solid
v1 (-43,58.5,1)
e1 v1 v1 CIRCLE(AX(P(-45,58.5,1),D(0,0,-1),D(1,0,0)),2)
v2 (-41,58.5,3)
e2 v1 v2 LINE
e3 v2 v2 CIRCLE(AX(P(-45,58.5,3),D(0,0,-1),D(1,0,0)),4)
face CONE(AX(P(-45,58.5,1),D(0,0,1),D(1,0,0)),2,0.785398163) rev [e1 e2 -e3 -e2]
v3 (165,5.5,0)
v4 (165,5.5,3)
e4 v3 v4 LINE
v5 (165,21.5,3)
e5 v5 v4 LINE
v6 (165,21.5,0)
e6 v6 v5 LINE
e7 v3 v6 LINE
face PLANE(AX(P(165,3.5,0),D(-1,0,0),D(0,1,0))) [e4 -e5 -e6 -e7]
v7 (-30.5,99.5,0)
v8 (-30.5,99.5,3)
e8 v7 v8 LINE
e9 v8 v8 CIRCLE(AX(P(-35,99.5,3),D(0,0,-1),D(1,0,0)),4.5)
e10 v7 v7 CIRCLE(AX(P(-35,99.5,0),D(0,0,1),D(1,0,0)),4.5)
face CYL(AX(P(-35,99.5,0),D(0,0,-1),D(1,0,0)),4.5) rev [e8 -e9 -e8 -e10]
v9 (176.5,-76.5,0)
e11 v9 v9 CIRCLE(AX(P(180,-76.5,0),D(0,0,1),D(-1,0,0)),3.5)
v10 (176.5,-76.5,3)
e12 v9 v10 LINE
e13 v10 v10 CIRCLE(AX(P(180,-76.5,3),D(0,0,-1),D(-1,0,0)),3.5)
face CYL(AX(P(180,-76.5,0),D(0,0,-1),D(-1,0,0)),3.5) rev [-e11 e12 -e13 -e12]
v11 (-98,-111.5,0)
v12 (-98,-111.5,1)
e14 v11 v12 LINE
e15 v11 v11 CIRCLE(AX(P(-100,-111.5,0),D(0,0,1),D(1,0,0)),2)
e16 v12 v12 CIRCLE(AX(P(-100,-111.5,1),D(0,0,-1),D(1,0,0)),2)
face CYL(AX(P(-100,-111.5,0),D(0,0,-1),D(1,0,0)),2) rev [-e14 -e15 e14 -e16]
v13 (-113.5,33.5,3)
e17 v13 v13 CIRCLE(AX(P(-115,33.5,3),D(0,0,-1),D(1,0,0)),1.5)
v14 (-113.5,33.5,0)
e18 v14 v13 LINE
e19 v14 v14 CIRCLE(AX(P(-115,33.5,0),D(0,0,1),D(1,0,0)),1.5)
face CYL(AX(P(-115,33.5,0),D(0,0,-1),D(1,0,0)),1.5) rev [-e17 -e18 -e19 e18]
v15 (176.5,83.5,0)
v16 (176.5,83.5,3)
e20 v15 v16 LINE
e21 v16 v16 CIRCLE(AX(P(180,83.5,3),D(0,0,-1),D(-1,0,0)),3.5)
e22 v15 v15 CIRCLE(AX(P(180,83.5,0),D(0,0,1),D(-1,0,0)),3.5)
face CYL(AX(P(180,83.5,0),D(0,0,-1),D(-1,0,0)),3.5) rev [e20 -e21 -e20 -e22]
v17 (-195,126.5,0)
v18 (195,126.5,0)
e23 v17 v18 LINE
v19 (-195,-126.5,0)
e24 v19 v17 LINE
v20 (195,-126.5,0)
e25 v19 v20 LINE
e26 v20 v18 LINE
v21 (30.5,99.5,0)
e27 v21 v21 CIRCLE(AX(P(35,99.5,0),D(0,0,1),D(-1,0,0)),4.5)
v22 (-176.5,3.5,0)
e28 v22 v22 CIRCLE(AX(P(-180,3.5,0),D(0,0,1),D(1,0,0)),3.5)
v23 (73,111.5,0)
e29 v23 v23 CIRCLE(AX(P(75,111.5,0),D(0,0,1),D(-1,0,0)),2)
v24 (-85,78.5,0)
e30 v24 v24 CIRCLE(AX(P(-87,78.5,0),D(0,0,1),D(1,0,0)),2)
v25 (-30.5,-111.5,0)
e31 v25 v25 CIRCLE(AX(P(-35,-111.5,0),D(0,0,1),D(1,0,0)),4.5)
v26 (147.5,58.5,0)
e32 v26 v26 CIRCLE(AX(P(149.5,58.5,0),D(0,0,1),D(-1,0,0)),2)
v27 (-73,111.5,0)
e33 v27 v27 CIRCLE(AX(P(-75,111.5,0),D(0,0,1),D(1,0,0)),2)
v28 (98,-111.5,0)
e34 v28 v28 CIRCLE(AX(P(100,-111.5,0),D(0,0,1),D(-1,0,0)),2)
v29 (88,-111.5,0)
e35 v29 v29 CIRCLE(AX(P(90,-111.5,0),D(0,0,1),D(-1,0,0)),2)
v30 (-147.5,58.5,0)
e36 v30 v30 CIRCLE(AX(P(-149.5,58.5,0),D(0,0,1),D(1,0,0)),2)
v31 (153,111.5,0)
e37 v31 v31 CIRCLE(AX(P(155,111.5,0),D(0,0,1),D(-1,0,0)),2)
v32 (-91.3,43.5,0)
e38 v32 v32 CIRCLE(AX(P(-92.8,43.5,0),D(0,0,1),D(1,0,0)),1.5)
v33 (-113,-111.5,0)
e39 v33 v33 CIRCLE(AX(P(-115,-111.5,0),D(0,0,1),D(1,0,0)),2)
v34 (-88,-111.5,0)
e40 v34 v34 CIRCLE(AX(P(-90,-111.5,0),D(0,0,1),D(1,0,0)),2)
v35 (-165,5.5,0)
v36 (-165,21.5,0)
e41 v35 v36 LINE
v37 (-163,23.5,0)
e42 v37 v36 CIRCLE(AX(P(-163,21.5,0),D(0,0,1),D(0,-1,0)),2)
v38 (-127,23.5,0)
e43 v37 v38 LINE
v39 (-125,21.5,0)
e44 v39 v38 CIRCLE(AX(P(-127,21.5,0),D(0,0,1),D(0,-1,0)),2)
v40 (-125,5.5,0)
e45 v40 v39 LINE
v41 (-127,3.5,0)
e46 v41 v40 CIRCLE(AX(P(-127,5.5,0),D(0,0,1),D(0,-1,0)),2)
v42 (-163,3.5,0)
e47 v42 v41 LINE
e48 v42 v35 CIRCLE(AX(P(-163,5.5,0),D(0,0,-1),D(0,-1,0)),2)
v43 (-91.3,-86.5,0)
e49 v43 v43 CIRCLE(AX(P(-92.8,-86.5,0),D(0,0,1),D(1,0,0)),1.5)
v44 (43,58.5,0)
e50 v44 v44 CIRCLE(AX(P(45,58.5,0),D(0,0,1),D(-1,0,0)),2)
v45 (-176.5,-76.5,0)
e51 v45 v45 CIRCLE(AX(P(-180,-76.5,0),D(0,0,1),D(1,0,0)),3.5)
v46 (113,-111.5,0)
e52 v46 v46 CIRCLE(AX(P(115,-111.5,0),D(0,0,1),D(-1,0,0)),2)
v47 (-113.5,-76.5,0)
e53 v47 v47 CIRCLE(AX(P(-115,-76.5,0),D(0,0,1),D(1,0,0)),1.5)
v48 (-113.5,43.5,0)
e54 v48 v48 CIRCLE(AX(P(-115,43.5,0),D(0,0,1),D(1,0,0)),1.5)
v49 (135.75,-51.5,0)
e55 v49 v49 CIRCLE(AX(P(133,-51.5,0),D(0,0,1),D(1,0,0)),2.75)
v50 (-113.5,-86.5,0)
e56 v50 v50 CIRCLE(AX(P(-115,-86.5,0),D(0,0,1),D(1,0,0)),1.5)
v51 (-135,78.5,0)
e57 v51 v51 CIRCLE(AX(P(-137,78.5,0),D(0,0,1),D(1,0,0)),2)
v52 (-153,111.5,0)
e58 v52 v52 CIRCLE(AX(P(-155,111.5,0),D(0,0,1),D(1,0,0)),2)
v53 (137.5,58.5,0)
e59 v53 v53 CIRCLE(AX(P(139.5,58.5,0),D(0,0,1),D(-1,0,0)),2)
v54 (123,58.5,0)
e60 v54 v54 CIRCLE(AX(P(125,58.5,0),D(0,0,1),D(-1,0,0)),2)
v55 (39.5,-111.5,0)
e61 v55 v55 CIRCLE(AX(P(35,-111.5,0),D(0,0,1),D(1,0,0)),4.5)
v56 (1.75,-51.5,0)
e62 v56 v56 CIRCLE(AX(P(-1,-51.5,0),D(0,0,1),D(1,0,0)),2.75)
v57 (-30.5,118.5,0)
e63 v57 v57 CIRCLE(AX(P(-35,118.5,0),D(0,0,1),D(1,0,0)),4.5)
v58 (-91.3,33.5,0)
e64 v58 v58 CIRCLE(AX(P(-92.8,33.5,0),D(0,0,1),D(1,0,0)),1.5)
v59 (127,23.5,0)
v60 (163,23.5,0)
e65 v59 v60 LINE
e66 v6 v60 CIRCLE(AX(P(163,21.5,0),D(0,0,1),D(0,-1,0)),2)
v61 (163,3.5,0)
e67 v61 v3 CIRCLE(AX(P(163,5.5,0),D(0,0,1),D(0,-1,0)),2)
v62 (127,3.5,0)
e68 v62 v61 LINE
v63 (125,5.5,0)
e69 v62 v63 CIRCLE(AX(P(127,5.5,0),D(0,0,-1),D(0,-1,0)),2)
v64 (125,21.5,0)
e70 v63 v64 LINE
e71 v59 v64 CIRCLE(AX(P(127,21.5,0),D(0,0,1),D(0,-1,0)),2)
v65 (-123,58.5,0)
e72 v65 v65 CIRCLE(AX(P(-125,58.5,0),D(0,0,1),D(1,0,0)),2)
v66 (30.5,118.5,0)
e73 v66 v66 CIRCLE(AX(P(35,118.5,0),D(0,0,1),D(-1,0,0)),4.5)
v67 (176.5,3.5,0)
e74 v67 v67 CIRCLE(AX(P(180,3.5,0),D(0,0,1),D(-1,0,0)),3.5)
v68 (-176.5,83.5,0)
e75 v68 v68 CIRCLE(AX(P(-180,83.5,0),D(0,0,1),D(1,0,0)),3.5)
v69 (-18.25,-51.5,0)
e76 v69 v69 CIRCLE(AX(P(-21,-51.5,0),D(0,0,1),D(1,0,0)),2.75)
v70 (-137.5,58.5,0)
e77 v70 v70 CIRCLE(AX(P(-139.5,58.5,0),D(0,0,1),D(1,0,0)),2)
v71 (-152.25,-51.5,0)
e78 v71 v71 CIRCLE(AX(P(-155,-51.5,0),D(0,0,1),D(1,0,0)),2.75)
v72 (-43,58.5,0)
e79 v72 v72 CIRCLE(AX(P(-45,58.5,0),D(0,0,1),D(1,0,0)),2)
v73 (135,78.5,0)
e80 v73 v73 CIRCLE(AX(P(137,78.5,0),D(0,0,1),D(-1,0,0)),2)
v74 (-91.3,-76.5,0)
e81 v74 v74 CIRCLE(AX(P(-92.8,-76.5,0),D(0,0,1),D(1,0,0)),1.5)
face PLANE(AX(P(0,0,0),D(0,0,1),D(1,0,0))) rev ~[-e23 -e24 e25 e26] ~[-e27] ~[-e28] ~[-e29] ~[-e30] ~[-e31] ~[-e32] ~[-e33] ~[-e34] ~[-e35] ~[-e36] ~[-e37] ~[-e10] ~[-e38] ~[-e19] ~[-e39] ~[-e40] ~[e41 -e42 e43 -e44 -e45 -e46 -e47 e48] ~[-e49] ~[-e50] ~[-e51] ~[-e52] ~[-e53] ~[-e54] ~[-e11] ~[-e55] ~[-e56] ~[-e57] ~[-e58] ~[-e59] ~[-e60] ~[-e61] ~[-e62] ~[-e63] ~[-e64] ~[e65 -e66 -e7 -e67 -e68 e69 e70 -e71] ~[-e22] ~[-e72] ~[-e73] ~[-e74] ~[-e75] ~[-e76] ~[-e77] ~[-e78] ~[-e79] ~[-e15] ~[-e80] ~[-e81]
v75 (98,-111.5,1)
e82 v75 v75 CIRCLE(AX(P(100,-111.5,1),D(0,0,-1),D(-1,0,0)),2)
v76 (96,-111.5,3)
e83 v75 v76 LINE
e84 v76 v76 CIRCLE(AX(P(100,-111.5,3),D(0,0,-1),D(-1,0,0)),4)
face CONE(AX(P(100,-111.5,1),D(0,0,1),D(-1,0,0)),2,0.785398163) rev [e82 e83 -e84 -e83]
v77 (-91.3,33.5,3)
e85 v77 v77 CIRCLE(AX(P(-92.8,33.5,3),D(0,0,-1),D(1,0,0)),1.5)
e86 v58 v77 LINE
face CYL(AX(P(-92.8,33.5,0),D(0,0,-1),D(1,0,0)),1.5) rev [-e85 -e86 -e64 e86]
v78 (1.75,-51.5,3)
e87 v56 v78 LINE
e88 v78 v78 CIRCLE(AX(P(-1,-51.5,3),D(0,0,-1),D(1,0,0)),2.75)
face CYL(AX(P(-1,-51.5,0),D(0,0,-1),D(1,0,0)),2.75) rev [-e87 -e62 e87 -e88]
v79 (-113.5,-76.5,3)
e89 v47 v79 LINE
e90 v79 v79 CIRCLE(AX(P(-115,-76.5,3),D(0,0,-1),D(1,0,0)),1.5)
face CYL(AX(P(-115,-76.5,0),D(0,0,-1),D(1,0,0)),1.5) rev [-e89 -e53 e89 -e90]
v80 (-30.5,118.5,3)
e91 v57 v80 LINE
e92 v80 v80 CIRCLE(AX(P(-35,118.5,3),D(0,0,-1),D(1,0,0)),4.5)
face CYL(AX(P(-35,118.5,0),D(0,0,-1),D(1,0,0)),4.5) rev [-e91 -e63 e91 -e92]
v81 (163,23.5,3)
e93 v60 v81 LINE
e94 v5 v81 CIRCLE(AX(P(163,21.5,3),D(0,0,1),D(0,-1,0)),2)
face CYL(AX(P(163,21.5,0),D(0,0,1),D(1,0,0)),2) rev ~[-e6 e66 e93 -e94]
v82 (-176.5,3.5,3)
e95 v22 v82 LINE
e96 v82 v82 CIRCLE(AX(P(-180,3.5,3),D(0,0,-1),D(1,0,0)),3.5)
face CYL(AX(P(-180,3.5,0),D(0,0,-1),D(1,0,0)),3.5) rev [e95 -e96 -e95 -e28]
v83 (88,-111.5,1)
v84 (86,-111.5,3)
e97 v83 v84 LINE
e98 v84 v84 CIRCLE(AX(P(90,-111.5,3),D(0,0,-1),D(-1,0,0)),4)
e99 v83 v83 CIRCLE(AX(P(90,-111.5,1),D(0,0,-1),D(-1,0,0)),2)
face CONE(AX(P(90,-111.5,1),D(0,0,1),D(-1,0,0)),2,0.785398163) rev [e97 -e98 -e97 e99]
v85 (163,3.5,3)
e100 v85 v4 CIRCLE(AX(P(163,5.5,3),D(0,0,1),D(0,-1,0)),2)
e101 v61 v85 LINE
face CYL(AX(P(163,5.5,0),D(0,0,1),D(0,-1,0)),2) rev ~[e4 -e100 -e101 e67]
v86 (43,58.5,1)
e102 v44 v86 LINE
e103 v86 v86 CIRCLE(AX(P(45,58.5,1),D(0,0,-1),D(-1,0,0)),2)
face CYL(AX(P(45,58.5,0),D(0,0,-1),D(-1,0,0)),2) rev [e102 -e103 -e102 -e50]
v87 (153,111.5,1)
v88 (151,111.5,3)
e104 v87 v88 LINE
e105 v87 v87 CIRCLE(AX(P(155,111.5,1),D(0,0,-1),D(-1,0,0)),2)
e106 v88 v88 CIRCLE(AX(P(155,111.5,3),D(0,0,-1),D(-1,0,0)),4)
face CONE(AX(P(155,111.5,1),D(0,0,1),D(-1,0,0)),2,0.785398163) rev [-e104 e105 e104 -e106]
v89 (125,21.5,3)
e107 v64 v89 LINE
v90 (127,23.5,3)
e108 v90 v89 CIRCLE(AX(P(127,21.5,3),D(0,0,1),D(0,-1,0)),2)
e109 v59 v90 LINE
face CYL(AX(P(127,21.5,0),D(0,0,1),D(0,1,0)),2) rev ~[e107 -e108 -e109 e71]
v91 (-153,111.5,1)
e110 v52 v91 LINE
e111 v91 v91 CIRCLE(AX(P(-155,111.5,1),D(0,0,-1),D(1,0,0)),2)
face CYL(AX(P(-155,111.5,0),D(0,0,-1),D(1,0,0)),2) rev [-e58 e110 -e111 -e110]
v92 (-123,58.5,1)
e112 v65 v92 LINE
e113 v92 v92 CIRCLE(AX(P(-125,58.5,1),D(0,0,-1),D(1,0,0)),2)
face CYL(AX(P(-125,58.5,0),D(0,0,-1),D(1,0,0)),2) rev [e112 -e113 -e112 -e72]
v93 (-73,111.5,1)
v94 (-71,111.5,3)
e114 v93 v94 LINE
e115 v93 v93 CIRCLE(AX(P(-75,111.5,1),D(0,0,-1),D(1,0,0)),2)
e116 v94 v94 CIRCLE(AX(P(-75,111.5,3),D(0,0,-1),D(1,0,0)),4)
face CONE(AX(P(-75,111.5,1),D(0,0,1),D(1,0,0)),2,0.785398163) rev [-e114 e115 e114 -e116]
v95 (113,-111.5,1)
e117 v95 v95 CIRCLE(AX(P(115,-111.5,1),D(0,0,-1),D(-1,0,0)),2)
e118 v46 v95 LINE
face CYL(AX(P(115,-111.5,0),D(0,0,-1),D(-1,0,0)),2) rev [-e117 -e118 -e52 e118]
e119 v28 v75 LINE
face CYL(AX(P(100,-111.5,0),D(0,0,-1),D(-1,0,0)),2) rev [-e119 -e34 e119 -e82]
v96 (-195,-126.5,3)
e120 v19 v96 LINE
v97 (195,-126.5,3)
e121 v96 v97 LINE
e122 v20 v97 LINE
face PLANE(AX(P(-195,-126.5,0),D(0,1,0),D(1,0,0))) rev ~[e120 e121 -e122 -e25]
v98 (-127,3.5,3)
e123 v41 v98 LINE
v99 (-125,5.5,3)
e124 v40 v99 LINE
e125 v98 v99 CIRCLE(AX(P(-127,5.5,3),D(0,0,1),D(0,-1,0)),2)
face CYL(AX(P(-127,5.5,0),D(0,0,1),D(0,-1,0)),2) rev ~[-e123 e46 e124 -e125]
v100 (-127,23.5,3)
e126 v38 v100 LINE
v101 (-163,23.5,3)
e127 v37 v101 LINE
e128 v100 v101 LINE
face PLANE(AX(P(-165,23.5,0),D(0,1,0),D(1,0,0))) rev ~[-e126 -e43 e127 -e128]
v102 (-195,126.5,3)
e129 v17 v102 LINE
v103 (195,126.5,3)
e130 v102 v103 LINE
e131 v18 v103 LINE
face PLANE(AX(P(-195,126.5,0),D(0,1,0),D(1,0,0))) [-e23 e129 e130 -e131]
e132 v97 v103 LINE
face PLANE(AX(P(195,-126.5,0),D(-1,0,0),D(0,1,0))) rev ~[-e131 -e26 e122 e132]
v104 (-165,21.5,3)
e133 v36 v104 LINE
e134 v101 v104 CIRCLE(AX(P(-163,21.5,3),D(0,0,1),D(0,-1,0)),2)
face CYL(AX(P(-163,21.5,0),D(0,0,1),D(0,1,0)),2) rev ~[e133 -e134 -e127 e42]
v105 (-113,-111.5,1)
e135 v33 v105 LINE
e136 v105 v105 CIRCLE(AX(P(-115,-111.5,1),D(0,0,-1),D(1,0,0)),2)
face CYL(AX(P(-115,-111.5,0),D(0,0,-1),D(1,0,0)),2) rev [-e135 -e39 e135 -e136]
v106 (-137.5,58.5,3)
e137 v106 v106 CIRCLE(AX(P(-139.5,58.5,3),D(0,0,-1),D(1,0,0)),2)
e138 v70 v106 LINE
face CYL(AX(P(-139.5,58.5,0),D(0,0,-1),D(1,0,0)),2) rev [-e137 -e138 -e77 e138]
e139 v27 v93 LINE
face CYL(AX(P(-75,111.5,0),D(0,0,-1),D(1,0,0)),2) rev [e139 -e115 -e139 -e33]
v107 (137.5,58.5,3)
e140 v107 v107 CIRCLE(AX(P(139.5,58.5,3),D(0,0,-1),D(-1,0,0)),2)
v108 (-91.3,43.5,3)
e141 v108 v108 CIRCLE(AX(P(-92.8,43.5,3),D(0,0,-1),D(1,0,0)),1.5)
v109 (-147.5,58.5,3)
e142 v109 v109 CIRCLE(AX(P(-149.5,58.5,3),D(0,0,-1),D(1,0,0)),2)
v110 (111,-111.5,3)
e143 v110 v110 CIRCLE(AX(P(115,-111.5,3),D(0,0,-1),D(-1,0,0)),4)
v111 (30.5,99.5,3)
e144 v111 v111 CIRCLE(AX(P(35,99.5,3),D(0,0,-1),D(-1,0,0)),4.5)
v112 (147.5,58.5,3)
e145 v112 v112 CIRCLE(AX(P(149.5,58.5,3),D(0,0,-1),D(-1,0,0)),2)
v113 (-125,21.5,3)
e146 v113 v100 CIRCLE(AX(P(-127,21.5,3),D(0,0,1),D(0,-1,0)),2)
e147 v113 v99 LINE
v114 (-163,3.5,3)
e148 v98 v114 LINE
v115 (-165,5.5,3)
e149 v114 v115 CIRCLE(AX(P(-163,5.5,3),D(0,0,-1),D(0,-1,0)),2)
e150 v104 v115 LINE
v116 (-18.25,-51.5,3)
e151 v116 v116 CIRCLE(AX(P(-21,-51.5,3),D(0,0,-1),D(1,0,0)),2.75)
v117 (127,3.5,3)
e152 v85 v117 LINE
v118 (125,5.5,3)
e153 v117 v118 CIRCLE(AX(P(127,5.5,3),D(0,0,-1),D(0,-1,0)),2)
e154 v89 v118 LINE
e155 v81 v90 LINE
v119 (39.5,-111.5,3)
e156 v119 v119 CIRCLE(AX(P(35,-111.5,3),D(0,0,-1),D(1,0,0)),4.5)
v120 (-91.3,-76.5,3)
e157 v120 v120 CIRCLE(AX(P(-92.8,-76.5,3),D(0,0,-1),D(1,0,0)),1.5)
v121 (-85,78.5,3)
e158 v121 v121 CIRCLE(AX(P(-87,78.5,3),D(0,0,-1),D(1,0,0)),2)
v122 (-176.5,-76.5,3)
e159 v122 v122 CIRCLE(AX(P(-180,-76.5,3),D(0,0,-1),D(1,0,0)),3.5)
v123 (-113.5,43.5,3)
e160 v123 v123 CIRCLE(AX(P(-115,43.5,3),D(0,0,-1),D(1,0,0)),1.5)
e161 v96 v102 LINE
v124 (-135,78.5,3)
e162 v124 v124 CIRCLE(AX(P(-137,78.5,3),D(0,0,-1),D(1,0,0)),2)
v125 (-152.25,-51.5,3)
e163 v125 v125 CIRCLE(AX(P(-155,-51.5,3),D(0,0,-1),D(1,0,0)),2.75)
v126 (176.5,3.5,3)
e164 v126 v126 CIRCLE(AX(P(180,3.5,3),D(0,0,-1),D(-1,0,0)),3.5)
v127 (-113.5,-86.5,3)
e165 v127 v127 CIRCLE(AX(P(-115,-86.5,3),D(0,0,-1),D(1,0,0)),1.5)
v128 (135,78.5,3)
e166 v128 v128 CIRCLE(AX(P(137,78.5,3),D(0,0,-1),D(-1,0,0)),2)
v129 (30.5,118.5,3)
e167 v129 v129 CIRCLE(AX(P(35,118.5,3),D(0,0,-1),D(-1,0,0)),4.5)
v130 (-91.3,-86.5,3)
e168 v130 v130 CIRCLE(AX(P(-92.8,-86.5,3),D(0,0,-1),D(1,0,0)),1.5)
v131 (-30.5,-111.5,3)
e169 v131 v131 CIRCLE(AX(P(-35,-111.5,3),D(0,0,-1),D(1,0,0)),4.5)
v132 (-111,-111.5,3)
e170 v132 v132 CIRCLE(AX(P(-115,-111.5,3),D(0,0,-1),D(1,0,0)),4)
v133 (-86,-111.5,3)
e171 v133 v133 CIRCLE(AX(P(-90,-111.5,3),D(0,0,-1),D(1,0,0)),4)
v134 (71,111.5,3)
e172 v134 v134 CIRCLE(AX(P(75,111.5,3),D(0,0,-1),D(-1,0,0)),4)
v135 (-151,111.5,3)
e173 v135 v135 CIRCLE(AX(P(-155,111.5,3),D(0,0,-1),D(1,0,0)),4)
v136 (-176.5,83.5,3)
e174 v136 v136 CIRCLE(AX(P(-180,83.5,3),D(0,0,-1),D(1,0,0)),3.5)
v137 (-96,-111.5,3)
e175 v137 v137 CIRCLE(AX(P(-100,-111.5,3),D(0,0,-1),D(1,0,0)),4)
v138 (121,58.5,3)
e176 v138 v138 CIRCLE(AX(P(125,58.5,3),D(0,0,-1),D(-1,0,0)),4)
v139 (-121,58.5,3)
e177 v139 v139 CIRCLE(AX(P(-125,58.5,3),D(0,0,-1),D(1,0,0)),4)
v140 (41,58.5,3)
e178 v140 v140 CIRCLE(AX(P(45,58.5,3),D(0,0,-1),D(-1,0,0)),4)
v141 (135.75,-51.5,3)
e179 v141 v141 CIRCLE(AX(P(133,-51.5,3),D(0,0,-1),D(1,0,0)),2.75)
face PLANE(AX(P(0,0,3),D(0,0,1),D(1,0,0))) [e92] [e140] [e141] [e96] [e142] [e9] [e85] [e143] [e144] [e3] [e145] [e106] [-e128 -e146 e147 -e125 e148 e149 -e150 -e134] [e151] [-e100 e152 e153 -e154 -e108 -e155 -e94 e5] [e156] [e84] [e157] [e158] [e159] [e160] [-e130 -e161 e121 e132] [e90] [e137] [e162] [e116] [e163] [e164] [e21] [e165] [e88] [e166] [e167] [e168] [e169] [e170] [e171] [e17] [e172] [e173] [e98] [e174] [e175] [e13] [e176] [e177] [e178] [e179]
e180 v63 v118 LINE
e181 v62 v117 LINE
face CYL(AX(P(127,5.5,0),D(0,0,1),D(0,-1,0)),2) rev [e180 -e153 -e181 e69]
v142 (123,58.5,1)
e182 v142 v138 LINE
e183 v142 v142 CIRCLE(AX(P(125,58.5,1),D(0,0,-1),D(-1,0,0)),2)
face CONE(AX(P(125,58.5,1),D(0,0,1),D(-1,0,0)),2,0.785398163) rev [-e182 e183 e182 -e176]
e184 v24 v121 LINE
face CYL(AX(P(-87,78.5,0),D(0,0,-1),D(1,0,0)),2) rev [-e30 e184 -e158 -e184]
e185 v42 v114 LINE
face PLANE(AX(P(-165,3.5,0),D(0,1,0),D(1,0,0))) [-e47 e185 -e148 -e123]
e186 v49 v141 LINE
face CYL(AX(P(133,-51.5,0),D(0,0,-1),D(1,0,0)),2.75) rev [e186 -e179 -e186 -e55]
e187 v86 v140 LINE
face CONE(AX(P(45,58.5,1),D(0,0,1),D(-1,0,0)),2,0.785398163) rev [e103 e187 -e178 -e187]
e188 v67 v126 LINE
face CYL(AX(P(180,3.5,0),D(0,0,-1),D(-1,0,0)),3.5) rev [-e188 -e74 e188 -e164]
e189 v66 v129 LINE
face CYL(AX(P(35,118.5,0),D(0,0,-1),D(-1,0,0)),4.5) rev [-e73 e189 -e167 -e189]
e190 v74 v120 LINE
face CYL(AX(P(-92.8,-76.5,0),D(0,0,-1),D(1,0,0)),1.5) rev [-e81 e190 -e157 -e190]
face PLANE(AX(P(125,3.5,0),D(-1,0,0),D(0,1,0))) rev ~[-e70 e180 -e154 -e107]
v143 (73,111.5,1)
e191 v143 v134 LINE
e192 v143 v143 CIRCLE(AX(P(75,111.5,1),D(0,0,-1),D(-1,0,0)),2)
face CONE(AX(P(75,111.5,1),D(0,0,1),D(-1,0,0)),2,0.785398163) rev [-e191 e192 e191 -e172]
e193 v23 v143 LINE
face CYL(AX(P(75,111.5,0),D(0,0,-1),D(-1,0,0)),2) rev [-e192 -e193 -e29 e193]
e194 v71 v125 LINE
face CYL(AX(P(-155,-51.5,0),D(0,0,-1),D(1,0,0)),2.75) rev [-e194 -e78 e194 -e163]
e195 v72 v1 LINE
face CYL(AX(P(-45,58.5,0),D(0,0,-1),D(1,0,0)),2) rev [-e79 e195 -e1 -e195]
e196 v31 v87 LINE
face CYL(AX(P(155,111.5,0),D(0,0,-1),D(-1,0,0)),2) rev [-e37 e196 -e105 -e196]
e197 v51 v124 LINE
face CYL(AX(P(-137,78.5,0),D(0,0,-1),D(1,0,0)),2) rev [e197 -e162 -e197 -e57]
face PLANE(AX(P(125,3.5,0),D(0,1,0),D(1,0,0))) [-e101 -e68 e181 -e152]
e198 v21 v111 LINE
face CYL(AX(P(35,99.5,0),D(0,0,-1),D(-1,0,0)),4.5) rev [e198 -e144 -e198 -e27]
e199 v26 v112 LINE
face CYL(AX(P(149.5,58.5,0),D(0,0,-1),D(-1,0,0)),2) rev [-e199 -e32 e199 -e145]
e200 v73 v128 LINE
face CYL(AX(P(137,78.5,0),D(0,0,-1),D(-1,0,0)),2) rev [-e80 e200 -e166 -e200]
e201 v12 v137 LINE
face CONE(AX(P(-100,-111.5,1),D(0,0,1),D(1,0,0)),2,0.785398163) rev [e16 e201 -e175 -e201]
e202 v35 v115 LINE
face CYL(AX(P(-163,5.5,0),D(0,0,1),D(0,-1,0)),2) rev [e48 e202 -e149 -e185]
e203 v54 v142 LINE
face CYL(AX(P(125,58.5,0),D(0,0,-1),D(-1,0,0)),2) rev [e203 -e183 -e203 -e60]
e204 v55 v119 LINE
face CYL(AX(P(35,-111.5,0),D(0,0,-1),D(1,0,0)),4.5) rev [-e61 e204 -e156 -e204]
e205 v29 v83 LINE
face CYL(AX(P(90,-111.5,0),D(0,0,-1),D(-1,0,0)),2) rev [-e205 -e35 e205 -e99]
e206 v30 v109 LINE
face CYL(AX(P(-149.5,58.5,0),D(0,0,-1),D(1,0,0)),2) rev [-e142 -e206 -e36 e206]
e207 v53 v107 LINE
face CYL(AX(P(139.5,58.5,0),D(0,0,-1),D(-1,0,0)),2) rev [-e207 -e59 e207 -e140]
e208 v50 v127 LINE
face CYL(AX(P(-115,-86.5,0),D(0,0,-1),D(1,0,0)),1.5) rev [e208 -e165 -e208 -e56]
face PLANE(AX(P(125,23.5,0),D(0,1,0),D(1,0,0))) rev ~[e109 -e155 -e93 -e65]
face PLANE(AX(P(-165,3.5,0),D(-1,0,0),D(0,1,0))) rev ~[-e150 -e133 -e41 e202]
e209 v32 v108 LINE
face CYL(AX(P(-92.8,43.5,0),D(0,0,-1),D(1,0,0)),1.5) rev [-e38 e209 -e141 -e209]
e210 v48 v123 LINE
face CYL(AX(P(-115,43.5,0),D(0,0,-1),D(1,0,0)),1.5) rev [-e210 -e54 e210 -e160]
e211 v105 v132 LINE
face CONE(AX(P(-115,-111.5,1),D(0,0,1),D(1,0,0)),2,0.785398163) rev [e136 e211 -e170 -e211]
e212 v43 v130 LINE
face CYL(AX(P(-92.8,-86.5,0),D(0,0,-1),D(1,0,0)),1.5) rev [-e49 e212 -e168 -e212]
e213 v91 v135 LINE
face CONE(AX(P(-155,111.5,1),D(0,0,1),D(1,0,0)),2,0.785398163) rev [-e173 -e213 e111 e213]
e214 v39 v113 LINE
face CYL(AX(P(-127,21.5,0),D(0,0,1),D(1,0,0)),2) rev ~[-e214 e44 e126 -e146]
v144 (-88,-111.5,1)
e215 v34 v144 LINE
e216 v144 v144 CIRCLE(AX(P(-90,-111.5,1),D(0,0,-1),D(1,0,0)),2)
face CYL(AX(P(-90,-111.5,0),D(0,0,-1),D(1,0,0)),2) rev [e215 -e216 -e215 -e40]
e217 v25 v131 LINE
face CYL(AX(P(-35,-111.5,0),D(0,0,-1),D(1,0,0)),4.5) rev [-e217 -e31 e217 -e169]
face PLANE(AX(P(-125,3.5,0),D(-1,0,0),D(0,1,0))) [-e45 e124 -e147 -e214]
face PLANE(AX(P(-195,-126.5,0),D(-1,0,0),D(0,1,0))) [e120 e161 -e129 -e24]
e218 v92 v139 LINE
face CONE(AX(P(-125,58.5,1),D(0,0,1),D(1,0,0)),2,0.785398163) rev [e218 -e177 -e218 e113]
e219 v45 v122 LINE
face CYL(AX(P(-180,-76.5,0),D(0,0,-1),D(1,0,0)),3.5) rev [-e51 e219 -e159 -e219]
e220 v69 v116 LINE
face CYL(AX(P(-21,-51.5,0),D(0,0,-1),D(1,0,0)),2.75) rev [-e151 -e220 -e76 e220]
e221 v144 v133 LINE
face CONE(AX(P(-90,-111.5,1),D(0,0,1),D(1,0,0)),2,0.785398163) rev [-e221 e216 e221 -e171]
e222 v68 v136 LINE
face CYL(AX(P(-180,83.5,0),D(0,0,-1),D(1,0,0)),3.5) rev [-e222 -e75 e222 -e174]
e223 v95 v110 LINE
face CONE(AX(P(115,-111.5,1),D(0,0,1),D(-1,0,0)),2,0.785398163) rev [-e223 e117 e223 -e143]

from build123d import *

# Parameters (mm, degrees)
SKETCH_1_W          = 390
SKETCH_1_H          = 253
EXTRUDE_1_DEPTH     = 3
SKETCH_3_R          = 4.5
SKETCH_3_R_2        = 3.5
SKETCH_3_R_3        = 2.75
SKETCH_3_R_4        = 2
SKETCH_3_R_5        = 1.5
CUT_EXTRUDE_3_DEPTH = 233.456985268
SKETCH_5_W          = 40
SKETCH_5_H          = 20
CUT_EXTRUDE_4_DEPTH = 233.456985268
FILLET_1_R          = 2
CHAMFER_1_SIZE      = 2


with BuildPart() as part:
    # 草图1 → 凸台-拉伸1 (new body)
    with BuildSketch(Plane.XY):
        Rectangle(SKETCH_1_W, SKETCH_1_H)
    extrude(amount=EXTRUDE_1_DEPTH)

    # 草图3 → 切除-拉伸3 (cut, through all)
    with BuildSketch(Plane.XY):
        with Locations((-35, -111.5)):
            Circle(SKETCH_3_R)
        with Locations((35, -111.5)):
            Circle(SKETCH_3_R)
        with Locations((-180, -76.5)):
            Circle(SKETCH_3_R_2)
        with Locations(Location((180, -76.5, 0), (0, 0, 180))):
            Circle(SKETCH_3_R_2)
        with Locations((-35, 118.5)):
            Circle(SKETCH_3_R)
        with Locations(Location((35, 118.5, 0), (0, 0, 180))):
            Circle(SKETCH_3_R)
        with Locations((-35, 99.5)):
            Circle(SKETCH_3_R)
        with Locations(Location((35, 99.5, 0), (0, 0, 180))):
            Circle(SKETCH_3_R)
        with Locations((-155, -51.5)):
            Circle(SKETCH_3_R_3)
        with Locations((-21, -51.5)):
            Circle(SKETCH_3_R_3)
        with Locations((-1, -51.5)):
            Circle(SKETCH_3_R_3)
        with Locations((133, -51.5)):
            Circle(SKETCH_3_R_3)
        with Locations((-149.5, 58.5)):
            Circle(SKETCH_3_R_4)
        with Locations((-139.5, 58.5)):
            Circle(SKETCH_3_R_4)
        with Locations(Location((139.5, 58.5, 0), (0, 0, 180))):
            Circle(SKETCH_3_R_4)
        with Locations(Location((149.5, 58.5, 0), (0, 0, 180))):
            Circle(SKETCH_3_R_4)
        with Locations((-137, 78.5)):
            Circle(SKETCH_3_R_4)
        with Locations((-87, 78.5)):
            Circle(SKETCH_3_R_4)
        with Locations((-180, 3.5)):
            Circle(SKETCH_3_R_2)
        with Locations((-180, 83.5)):
            Circle(SKETCH_3_R_2)
        with Locations(Location((180, 83.5, 0), (0, 0, 180))):
            Circle(SKETCH_3_R_2)
        with Locations(Location((180, 3.5, 0), (0, 0, 180))):
            Circle(SKETCH_3_R_2)
        with Locations((-155, 111.5)):
            Circle(SKETCH_3_R_4)
        with Locations((-75, 111.5)):
            Circle(SKETCH_3_R_4)
        with Locations((-45, 58.5)):
            Circle(SKETCH_3_R_4)
        with Locations((-125, 58.5)):
            Circle(SKETCH_3_R_4)
        with Locations(Location((45, 58.5, 0), (0, 0, 180))):
            Circle(SKETCH_3_R_4)
        with Locations(Location((137, 78.5, 0), (0, 0, 180))):
            Circle(SKETCH_3_R_4)
        with Locations(Location((75, 111.5, 0), (0, 0, 180))):
            Circle(SKETCH_3_R_4)
        with Locations(Location((155, 111.5, 0), (0, 0, 180))):
            Circle(SKETCH_3_R_4)
        with Locations((-115, -111.5)):
            Circle(SKETCH_3_R_4)
        with Locations(Location((115, -111.5, 0), (0, 0, 180))):
            Circle(SKETCH_3_R_4)
        with Locations(Location((125, 58.5, 0), (0, 0, 180))):
            Circle(SKETCH_3_R_4)
        with Locations((-100, -111.5)):
            Circle(SKETCH_3_R_4)
        with Locations((-90, -111.5)):
            Circle(SKETCH_3_R_4)
        with Locations(Location((90, -111.5, 0), (0, 0, 180))):
            Circle(SKETCH_3_R_4)
        with Locations(Location((100, -111.5, 0), (0, 0, 180))):
            Circle(SKETCH_3_R_4)
        with Locations((-115, 33.5)):
            Circle(SKETCH_3_R_5)
        with Locations((-92.8, 43.5)):
            Circle(SKETCH_3_R_5)
        with Locations((-115, 43.5)):
            Circle(SKETCH_3_R_5)
        with Locations((-92.8, 33.5)):
            Circle(SKETCH_3_R_5)
        with Locations((-115, -86.5)):
            Circle(SKETCH_3_R_5)
        with Locations((-92.8, -76.5)):
            Circle(SKETCH_3_R_5)
        with Locations((-115, -76.5)):
            Circle(SKETCH_3_R_5)
        with Locations((-92.8, -86.5)):
            Circle(SKETCH_3_R_5)
    extrude(amount=CUT_EXTRUDE_3_DEPTH, mode=Mode.SUBTRACT)

    # 草图5 → 切除-拉伸4 (cut, through all)
    with BuildSketch(Plane.XY):
        with Locations((-145, 13.5)):
            Rectangle(SKETCH_5_W, SKETCH_5_H)
        with Locations((145, 13.5)):
            Rectangle(SKETCH_5_W, SKETCH_5_H)
    extrude(amount=CUT_EXTRUDE_4_DEPTH, mode=Mode.SUBTRACT)

    # 圆角1
    fillet_1_edges = [part.edges().sort_by_distance(p)[0] for p in [
        (-165, 23.5, 1.5),
        (-165, 3.5, 1.5),
        (-125, 3.5, 1.5),
        (-125, 23.5, 1.5),
        (165, 23.5, 1.5),
        (125, 23.5, 1.5),
        (125, 3.5, 1.5),
        (165, 3.5, 1.5),
    ]]
    fillet(fillet_1_edges, radius=FILLET_1_R)

    # 倒角1
    chamfer_1_edges = [part.edges().sort_by_distance(p)[0] for p in [
        (92, -111.5, 3),
        (-92, -111.5, 3),
        (127, 58.5, 3),
        (102, -111.5, 3),
        (-77, 111.5, 3),
        (-157, 111.5, 3),
        (-47, 58.5, 3),
        (-102, -111.5, 3),
        (-117, -111.5, 3),
        (157, 111.5, 3),
        (77, 111.5, 3),
        (-127, 58.5, 3),
        (117, -111.5, 3),
        (47, 58.5, 3),
    ]]
    chamfer(chamfer_1_edges, length=CHAMFER_1_SIZE)


solid = part.part
